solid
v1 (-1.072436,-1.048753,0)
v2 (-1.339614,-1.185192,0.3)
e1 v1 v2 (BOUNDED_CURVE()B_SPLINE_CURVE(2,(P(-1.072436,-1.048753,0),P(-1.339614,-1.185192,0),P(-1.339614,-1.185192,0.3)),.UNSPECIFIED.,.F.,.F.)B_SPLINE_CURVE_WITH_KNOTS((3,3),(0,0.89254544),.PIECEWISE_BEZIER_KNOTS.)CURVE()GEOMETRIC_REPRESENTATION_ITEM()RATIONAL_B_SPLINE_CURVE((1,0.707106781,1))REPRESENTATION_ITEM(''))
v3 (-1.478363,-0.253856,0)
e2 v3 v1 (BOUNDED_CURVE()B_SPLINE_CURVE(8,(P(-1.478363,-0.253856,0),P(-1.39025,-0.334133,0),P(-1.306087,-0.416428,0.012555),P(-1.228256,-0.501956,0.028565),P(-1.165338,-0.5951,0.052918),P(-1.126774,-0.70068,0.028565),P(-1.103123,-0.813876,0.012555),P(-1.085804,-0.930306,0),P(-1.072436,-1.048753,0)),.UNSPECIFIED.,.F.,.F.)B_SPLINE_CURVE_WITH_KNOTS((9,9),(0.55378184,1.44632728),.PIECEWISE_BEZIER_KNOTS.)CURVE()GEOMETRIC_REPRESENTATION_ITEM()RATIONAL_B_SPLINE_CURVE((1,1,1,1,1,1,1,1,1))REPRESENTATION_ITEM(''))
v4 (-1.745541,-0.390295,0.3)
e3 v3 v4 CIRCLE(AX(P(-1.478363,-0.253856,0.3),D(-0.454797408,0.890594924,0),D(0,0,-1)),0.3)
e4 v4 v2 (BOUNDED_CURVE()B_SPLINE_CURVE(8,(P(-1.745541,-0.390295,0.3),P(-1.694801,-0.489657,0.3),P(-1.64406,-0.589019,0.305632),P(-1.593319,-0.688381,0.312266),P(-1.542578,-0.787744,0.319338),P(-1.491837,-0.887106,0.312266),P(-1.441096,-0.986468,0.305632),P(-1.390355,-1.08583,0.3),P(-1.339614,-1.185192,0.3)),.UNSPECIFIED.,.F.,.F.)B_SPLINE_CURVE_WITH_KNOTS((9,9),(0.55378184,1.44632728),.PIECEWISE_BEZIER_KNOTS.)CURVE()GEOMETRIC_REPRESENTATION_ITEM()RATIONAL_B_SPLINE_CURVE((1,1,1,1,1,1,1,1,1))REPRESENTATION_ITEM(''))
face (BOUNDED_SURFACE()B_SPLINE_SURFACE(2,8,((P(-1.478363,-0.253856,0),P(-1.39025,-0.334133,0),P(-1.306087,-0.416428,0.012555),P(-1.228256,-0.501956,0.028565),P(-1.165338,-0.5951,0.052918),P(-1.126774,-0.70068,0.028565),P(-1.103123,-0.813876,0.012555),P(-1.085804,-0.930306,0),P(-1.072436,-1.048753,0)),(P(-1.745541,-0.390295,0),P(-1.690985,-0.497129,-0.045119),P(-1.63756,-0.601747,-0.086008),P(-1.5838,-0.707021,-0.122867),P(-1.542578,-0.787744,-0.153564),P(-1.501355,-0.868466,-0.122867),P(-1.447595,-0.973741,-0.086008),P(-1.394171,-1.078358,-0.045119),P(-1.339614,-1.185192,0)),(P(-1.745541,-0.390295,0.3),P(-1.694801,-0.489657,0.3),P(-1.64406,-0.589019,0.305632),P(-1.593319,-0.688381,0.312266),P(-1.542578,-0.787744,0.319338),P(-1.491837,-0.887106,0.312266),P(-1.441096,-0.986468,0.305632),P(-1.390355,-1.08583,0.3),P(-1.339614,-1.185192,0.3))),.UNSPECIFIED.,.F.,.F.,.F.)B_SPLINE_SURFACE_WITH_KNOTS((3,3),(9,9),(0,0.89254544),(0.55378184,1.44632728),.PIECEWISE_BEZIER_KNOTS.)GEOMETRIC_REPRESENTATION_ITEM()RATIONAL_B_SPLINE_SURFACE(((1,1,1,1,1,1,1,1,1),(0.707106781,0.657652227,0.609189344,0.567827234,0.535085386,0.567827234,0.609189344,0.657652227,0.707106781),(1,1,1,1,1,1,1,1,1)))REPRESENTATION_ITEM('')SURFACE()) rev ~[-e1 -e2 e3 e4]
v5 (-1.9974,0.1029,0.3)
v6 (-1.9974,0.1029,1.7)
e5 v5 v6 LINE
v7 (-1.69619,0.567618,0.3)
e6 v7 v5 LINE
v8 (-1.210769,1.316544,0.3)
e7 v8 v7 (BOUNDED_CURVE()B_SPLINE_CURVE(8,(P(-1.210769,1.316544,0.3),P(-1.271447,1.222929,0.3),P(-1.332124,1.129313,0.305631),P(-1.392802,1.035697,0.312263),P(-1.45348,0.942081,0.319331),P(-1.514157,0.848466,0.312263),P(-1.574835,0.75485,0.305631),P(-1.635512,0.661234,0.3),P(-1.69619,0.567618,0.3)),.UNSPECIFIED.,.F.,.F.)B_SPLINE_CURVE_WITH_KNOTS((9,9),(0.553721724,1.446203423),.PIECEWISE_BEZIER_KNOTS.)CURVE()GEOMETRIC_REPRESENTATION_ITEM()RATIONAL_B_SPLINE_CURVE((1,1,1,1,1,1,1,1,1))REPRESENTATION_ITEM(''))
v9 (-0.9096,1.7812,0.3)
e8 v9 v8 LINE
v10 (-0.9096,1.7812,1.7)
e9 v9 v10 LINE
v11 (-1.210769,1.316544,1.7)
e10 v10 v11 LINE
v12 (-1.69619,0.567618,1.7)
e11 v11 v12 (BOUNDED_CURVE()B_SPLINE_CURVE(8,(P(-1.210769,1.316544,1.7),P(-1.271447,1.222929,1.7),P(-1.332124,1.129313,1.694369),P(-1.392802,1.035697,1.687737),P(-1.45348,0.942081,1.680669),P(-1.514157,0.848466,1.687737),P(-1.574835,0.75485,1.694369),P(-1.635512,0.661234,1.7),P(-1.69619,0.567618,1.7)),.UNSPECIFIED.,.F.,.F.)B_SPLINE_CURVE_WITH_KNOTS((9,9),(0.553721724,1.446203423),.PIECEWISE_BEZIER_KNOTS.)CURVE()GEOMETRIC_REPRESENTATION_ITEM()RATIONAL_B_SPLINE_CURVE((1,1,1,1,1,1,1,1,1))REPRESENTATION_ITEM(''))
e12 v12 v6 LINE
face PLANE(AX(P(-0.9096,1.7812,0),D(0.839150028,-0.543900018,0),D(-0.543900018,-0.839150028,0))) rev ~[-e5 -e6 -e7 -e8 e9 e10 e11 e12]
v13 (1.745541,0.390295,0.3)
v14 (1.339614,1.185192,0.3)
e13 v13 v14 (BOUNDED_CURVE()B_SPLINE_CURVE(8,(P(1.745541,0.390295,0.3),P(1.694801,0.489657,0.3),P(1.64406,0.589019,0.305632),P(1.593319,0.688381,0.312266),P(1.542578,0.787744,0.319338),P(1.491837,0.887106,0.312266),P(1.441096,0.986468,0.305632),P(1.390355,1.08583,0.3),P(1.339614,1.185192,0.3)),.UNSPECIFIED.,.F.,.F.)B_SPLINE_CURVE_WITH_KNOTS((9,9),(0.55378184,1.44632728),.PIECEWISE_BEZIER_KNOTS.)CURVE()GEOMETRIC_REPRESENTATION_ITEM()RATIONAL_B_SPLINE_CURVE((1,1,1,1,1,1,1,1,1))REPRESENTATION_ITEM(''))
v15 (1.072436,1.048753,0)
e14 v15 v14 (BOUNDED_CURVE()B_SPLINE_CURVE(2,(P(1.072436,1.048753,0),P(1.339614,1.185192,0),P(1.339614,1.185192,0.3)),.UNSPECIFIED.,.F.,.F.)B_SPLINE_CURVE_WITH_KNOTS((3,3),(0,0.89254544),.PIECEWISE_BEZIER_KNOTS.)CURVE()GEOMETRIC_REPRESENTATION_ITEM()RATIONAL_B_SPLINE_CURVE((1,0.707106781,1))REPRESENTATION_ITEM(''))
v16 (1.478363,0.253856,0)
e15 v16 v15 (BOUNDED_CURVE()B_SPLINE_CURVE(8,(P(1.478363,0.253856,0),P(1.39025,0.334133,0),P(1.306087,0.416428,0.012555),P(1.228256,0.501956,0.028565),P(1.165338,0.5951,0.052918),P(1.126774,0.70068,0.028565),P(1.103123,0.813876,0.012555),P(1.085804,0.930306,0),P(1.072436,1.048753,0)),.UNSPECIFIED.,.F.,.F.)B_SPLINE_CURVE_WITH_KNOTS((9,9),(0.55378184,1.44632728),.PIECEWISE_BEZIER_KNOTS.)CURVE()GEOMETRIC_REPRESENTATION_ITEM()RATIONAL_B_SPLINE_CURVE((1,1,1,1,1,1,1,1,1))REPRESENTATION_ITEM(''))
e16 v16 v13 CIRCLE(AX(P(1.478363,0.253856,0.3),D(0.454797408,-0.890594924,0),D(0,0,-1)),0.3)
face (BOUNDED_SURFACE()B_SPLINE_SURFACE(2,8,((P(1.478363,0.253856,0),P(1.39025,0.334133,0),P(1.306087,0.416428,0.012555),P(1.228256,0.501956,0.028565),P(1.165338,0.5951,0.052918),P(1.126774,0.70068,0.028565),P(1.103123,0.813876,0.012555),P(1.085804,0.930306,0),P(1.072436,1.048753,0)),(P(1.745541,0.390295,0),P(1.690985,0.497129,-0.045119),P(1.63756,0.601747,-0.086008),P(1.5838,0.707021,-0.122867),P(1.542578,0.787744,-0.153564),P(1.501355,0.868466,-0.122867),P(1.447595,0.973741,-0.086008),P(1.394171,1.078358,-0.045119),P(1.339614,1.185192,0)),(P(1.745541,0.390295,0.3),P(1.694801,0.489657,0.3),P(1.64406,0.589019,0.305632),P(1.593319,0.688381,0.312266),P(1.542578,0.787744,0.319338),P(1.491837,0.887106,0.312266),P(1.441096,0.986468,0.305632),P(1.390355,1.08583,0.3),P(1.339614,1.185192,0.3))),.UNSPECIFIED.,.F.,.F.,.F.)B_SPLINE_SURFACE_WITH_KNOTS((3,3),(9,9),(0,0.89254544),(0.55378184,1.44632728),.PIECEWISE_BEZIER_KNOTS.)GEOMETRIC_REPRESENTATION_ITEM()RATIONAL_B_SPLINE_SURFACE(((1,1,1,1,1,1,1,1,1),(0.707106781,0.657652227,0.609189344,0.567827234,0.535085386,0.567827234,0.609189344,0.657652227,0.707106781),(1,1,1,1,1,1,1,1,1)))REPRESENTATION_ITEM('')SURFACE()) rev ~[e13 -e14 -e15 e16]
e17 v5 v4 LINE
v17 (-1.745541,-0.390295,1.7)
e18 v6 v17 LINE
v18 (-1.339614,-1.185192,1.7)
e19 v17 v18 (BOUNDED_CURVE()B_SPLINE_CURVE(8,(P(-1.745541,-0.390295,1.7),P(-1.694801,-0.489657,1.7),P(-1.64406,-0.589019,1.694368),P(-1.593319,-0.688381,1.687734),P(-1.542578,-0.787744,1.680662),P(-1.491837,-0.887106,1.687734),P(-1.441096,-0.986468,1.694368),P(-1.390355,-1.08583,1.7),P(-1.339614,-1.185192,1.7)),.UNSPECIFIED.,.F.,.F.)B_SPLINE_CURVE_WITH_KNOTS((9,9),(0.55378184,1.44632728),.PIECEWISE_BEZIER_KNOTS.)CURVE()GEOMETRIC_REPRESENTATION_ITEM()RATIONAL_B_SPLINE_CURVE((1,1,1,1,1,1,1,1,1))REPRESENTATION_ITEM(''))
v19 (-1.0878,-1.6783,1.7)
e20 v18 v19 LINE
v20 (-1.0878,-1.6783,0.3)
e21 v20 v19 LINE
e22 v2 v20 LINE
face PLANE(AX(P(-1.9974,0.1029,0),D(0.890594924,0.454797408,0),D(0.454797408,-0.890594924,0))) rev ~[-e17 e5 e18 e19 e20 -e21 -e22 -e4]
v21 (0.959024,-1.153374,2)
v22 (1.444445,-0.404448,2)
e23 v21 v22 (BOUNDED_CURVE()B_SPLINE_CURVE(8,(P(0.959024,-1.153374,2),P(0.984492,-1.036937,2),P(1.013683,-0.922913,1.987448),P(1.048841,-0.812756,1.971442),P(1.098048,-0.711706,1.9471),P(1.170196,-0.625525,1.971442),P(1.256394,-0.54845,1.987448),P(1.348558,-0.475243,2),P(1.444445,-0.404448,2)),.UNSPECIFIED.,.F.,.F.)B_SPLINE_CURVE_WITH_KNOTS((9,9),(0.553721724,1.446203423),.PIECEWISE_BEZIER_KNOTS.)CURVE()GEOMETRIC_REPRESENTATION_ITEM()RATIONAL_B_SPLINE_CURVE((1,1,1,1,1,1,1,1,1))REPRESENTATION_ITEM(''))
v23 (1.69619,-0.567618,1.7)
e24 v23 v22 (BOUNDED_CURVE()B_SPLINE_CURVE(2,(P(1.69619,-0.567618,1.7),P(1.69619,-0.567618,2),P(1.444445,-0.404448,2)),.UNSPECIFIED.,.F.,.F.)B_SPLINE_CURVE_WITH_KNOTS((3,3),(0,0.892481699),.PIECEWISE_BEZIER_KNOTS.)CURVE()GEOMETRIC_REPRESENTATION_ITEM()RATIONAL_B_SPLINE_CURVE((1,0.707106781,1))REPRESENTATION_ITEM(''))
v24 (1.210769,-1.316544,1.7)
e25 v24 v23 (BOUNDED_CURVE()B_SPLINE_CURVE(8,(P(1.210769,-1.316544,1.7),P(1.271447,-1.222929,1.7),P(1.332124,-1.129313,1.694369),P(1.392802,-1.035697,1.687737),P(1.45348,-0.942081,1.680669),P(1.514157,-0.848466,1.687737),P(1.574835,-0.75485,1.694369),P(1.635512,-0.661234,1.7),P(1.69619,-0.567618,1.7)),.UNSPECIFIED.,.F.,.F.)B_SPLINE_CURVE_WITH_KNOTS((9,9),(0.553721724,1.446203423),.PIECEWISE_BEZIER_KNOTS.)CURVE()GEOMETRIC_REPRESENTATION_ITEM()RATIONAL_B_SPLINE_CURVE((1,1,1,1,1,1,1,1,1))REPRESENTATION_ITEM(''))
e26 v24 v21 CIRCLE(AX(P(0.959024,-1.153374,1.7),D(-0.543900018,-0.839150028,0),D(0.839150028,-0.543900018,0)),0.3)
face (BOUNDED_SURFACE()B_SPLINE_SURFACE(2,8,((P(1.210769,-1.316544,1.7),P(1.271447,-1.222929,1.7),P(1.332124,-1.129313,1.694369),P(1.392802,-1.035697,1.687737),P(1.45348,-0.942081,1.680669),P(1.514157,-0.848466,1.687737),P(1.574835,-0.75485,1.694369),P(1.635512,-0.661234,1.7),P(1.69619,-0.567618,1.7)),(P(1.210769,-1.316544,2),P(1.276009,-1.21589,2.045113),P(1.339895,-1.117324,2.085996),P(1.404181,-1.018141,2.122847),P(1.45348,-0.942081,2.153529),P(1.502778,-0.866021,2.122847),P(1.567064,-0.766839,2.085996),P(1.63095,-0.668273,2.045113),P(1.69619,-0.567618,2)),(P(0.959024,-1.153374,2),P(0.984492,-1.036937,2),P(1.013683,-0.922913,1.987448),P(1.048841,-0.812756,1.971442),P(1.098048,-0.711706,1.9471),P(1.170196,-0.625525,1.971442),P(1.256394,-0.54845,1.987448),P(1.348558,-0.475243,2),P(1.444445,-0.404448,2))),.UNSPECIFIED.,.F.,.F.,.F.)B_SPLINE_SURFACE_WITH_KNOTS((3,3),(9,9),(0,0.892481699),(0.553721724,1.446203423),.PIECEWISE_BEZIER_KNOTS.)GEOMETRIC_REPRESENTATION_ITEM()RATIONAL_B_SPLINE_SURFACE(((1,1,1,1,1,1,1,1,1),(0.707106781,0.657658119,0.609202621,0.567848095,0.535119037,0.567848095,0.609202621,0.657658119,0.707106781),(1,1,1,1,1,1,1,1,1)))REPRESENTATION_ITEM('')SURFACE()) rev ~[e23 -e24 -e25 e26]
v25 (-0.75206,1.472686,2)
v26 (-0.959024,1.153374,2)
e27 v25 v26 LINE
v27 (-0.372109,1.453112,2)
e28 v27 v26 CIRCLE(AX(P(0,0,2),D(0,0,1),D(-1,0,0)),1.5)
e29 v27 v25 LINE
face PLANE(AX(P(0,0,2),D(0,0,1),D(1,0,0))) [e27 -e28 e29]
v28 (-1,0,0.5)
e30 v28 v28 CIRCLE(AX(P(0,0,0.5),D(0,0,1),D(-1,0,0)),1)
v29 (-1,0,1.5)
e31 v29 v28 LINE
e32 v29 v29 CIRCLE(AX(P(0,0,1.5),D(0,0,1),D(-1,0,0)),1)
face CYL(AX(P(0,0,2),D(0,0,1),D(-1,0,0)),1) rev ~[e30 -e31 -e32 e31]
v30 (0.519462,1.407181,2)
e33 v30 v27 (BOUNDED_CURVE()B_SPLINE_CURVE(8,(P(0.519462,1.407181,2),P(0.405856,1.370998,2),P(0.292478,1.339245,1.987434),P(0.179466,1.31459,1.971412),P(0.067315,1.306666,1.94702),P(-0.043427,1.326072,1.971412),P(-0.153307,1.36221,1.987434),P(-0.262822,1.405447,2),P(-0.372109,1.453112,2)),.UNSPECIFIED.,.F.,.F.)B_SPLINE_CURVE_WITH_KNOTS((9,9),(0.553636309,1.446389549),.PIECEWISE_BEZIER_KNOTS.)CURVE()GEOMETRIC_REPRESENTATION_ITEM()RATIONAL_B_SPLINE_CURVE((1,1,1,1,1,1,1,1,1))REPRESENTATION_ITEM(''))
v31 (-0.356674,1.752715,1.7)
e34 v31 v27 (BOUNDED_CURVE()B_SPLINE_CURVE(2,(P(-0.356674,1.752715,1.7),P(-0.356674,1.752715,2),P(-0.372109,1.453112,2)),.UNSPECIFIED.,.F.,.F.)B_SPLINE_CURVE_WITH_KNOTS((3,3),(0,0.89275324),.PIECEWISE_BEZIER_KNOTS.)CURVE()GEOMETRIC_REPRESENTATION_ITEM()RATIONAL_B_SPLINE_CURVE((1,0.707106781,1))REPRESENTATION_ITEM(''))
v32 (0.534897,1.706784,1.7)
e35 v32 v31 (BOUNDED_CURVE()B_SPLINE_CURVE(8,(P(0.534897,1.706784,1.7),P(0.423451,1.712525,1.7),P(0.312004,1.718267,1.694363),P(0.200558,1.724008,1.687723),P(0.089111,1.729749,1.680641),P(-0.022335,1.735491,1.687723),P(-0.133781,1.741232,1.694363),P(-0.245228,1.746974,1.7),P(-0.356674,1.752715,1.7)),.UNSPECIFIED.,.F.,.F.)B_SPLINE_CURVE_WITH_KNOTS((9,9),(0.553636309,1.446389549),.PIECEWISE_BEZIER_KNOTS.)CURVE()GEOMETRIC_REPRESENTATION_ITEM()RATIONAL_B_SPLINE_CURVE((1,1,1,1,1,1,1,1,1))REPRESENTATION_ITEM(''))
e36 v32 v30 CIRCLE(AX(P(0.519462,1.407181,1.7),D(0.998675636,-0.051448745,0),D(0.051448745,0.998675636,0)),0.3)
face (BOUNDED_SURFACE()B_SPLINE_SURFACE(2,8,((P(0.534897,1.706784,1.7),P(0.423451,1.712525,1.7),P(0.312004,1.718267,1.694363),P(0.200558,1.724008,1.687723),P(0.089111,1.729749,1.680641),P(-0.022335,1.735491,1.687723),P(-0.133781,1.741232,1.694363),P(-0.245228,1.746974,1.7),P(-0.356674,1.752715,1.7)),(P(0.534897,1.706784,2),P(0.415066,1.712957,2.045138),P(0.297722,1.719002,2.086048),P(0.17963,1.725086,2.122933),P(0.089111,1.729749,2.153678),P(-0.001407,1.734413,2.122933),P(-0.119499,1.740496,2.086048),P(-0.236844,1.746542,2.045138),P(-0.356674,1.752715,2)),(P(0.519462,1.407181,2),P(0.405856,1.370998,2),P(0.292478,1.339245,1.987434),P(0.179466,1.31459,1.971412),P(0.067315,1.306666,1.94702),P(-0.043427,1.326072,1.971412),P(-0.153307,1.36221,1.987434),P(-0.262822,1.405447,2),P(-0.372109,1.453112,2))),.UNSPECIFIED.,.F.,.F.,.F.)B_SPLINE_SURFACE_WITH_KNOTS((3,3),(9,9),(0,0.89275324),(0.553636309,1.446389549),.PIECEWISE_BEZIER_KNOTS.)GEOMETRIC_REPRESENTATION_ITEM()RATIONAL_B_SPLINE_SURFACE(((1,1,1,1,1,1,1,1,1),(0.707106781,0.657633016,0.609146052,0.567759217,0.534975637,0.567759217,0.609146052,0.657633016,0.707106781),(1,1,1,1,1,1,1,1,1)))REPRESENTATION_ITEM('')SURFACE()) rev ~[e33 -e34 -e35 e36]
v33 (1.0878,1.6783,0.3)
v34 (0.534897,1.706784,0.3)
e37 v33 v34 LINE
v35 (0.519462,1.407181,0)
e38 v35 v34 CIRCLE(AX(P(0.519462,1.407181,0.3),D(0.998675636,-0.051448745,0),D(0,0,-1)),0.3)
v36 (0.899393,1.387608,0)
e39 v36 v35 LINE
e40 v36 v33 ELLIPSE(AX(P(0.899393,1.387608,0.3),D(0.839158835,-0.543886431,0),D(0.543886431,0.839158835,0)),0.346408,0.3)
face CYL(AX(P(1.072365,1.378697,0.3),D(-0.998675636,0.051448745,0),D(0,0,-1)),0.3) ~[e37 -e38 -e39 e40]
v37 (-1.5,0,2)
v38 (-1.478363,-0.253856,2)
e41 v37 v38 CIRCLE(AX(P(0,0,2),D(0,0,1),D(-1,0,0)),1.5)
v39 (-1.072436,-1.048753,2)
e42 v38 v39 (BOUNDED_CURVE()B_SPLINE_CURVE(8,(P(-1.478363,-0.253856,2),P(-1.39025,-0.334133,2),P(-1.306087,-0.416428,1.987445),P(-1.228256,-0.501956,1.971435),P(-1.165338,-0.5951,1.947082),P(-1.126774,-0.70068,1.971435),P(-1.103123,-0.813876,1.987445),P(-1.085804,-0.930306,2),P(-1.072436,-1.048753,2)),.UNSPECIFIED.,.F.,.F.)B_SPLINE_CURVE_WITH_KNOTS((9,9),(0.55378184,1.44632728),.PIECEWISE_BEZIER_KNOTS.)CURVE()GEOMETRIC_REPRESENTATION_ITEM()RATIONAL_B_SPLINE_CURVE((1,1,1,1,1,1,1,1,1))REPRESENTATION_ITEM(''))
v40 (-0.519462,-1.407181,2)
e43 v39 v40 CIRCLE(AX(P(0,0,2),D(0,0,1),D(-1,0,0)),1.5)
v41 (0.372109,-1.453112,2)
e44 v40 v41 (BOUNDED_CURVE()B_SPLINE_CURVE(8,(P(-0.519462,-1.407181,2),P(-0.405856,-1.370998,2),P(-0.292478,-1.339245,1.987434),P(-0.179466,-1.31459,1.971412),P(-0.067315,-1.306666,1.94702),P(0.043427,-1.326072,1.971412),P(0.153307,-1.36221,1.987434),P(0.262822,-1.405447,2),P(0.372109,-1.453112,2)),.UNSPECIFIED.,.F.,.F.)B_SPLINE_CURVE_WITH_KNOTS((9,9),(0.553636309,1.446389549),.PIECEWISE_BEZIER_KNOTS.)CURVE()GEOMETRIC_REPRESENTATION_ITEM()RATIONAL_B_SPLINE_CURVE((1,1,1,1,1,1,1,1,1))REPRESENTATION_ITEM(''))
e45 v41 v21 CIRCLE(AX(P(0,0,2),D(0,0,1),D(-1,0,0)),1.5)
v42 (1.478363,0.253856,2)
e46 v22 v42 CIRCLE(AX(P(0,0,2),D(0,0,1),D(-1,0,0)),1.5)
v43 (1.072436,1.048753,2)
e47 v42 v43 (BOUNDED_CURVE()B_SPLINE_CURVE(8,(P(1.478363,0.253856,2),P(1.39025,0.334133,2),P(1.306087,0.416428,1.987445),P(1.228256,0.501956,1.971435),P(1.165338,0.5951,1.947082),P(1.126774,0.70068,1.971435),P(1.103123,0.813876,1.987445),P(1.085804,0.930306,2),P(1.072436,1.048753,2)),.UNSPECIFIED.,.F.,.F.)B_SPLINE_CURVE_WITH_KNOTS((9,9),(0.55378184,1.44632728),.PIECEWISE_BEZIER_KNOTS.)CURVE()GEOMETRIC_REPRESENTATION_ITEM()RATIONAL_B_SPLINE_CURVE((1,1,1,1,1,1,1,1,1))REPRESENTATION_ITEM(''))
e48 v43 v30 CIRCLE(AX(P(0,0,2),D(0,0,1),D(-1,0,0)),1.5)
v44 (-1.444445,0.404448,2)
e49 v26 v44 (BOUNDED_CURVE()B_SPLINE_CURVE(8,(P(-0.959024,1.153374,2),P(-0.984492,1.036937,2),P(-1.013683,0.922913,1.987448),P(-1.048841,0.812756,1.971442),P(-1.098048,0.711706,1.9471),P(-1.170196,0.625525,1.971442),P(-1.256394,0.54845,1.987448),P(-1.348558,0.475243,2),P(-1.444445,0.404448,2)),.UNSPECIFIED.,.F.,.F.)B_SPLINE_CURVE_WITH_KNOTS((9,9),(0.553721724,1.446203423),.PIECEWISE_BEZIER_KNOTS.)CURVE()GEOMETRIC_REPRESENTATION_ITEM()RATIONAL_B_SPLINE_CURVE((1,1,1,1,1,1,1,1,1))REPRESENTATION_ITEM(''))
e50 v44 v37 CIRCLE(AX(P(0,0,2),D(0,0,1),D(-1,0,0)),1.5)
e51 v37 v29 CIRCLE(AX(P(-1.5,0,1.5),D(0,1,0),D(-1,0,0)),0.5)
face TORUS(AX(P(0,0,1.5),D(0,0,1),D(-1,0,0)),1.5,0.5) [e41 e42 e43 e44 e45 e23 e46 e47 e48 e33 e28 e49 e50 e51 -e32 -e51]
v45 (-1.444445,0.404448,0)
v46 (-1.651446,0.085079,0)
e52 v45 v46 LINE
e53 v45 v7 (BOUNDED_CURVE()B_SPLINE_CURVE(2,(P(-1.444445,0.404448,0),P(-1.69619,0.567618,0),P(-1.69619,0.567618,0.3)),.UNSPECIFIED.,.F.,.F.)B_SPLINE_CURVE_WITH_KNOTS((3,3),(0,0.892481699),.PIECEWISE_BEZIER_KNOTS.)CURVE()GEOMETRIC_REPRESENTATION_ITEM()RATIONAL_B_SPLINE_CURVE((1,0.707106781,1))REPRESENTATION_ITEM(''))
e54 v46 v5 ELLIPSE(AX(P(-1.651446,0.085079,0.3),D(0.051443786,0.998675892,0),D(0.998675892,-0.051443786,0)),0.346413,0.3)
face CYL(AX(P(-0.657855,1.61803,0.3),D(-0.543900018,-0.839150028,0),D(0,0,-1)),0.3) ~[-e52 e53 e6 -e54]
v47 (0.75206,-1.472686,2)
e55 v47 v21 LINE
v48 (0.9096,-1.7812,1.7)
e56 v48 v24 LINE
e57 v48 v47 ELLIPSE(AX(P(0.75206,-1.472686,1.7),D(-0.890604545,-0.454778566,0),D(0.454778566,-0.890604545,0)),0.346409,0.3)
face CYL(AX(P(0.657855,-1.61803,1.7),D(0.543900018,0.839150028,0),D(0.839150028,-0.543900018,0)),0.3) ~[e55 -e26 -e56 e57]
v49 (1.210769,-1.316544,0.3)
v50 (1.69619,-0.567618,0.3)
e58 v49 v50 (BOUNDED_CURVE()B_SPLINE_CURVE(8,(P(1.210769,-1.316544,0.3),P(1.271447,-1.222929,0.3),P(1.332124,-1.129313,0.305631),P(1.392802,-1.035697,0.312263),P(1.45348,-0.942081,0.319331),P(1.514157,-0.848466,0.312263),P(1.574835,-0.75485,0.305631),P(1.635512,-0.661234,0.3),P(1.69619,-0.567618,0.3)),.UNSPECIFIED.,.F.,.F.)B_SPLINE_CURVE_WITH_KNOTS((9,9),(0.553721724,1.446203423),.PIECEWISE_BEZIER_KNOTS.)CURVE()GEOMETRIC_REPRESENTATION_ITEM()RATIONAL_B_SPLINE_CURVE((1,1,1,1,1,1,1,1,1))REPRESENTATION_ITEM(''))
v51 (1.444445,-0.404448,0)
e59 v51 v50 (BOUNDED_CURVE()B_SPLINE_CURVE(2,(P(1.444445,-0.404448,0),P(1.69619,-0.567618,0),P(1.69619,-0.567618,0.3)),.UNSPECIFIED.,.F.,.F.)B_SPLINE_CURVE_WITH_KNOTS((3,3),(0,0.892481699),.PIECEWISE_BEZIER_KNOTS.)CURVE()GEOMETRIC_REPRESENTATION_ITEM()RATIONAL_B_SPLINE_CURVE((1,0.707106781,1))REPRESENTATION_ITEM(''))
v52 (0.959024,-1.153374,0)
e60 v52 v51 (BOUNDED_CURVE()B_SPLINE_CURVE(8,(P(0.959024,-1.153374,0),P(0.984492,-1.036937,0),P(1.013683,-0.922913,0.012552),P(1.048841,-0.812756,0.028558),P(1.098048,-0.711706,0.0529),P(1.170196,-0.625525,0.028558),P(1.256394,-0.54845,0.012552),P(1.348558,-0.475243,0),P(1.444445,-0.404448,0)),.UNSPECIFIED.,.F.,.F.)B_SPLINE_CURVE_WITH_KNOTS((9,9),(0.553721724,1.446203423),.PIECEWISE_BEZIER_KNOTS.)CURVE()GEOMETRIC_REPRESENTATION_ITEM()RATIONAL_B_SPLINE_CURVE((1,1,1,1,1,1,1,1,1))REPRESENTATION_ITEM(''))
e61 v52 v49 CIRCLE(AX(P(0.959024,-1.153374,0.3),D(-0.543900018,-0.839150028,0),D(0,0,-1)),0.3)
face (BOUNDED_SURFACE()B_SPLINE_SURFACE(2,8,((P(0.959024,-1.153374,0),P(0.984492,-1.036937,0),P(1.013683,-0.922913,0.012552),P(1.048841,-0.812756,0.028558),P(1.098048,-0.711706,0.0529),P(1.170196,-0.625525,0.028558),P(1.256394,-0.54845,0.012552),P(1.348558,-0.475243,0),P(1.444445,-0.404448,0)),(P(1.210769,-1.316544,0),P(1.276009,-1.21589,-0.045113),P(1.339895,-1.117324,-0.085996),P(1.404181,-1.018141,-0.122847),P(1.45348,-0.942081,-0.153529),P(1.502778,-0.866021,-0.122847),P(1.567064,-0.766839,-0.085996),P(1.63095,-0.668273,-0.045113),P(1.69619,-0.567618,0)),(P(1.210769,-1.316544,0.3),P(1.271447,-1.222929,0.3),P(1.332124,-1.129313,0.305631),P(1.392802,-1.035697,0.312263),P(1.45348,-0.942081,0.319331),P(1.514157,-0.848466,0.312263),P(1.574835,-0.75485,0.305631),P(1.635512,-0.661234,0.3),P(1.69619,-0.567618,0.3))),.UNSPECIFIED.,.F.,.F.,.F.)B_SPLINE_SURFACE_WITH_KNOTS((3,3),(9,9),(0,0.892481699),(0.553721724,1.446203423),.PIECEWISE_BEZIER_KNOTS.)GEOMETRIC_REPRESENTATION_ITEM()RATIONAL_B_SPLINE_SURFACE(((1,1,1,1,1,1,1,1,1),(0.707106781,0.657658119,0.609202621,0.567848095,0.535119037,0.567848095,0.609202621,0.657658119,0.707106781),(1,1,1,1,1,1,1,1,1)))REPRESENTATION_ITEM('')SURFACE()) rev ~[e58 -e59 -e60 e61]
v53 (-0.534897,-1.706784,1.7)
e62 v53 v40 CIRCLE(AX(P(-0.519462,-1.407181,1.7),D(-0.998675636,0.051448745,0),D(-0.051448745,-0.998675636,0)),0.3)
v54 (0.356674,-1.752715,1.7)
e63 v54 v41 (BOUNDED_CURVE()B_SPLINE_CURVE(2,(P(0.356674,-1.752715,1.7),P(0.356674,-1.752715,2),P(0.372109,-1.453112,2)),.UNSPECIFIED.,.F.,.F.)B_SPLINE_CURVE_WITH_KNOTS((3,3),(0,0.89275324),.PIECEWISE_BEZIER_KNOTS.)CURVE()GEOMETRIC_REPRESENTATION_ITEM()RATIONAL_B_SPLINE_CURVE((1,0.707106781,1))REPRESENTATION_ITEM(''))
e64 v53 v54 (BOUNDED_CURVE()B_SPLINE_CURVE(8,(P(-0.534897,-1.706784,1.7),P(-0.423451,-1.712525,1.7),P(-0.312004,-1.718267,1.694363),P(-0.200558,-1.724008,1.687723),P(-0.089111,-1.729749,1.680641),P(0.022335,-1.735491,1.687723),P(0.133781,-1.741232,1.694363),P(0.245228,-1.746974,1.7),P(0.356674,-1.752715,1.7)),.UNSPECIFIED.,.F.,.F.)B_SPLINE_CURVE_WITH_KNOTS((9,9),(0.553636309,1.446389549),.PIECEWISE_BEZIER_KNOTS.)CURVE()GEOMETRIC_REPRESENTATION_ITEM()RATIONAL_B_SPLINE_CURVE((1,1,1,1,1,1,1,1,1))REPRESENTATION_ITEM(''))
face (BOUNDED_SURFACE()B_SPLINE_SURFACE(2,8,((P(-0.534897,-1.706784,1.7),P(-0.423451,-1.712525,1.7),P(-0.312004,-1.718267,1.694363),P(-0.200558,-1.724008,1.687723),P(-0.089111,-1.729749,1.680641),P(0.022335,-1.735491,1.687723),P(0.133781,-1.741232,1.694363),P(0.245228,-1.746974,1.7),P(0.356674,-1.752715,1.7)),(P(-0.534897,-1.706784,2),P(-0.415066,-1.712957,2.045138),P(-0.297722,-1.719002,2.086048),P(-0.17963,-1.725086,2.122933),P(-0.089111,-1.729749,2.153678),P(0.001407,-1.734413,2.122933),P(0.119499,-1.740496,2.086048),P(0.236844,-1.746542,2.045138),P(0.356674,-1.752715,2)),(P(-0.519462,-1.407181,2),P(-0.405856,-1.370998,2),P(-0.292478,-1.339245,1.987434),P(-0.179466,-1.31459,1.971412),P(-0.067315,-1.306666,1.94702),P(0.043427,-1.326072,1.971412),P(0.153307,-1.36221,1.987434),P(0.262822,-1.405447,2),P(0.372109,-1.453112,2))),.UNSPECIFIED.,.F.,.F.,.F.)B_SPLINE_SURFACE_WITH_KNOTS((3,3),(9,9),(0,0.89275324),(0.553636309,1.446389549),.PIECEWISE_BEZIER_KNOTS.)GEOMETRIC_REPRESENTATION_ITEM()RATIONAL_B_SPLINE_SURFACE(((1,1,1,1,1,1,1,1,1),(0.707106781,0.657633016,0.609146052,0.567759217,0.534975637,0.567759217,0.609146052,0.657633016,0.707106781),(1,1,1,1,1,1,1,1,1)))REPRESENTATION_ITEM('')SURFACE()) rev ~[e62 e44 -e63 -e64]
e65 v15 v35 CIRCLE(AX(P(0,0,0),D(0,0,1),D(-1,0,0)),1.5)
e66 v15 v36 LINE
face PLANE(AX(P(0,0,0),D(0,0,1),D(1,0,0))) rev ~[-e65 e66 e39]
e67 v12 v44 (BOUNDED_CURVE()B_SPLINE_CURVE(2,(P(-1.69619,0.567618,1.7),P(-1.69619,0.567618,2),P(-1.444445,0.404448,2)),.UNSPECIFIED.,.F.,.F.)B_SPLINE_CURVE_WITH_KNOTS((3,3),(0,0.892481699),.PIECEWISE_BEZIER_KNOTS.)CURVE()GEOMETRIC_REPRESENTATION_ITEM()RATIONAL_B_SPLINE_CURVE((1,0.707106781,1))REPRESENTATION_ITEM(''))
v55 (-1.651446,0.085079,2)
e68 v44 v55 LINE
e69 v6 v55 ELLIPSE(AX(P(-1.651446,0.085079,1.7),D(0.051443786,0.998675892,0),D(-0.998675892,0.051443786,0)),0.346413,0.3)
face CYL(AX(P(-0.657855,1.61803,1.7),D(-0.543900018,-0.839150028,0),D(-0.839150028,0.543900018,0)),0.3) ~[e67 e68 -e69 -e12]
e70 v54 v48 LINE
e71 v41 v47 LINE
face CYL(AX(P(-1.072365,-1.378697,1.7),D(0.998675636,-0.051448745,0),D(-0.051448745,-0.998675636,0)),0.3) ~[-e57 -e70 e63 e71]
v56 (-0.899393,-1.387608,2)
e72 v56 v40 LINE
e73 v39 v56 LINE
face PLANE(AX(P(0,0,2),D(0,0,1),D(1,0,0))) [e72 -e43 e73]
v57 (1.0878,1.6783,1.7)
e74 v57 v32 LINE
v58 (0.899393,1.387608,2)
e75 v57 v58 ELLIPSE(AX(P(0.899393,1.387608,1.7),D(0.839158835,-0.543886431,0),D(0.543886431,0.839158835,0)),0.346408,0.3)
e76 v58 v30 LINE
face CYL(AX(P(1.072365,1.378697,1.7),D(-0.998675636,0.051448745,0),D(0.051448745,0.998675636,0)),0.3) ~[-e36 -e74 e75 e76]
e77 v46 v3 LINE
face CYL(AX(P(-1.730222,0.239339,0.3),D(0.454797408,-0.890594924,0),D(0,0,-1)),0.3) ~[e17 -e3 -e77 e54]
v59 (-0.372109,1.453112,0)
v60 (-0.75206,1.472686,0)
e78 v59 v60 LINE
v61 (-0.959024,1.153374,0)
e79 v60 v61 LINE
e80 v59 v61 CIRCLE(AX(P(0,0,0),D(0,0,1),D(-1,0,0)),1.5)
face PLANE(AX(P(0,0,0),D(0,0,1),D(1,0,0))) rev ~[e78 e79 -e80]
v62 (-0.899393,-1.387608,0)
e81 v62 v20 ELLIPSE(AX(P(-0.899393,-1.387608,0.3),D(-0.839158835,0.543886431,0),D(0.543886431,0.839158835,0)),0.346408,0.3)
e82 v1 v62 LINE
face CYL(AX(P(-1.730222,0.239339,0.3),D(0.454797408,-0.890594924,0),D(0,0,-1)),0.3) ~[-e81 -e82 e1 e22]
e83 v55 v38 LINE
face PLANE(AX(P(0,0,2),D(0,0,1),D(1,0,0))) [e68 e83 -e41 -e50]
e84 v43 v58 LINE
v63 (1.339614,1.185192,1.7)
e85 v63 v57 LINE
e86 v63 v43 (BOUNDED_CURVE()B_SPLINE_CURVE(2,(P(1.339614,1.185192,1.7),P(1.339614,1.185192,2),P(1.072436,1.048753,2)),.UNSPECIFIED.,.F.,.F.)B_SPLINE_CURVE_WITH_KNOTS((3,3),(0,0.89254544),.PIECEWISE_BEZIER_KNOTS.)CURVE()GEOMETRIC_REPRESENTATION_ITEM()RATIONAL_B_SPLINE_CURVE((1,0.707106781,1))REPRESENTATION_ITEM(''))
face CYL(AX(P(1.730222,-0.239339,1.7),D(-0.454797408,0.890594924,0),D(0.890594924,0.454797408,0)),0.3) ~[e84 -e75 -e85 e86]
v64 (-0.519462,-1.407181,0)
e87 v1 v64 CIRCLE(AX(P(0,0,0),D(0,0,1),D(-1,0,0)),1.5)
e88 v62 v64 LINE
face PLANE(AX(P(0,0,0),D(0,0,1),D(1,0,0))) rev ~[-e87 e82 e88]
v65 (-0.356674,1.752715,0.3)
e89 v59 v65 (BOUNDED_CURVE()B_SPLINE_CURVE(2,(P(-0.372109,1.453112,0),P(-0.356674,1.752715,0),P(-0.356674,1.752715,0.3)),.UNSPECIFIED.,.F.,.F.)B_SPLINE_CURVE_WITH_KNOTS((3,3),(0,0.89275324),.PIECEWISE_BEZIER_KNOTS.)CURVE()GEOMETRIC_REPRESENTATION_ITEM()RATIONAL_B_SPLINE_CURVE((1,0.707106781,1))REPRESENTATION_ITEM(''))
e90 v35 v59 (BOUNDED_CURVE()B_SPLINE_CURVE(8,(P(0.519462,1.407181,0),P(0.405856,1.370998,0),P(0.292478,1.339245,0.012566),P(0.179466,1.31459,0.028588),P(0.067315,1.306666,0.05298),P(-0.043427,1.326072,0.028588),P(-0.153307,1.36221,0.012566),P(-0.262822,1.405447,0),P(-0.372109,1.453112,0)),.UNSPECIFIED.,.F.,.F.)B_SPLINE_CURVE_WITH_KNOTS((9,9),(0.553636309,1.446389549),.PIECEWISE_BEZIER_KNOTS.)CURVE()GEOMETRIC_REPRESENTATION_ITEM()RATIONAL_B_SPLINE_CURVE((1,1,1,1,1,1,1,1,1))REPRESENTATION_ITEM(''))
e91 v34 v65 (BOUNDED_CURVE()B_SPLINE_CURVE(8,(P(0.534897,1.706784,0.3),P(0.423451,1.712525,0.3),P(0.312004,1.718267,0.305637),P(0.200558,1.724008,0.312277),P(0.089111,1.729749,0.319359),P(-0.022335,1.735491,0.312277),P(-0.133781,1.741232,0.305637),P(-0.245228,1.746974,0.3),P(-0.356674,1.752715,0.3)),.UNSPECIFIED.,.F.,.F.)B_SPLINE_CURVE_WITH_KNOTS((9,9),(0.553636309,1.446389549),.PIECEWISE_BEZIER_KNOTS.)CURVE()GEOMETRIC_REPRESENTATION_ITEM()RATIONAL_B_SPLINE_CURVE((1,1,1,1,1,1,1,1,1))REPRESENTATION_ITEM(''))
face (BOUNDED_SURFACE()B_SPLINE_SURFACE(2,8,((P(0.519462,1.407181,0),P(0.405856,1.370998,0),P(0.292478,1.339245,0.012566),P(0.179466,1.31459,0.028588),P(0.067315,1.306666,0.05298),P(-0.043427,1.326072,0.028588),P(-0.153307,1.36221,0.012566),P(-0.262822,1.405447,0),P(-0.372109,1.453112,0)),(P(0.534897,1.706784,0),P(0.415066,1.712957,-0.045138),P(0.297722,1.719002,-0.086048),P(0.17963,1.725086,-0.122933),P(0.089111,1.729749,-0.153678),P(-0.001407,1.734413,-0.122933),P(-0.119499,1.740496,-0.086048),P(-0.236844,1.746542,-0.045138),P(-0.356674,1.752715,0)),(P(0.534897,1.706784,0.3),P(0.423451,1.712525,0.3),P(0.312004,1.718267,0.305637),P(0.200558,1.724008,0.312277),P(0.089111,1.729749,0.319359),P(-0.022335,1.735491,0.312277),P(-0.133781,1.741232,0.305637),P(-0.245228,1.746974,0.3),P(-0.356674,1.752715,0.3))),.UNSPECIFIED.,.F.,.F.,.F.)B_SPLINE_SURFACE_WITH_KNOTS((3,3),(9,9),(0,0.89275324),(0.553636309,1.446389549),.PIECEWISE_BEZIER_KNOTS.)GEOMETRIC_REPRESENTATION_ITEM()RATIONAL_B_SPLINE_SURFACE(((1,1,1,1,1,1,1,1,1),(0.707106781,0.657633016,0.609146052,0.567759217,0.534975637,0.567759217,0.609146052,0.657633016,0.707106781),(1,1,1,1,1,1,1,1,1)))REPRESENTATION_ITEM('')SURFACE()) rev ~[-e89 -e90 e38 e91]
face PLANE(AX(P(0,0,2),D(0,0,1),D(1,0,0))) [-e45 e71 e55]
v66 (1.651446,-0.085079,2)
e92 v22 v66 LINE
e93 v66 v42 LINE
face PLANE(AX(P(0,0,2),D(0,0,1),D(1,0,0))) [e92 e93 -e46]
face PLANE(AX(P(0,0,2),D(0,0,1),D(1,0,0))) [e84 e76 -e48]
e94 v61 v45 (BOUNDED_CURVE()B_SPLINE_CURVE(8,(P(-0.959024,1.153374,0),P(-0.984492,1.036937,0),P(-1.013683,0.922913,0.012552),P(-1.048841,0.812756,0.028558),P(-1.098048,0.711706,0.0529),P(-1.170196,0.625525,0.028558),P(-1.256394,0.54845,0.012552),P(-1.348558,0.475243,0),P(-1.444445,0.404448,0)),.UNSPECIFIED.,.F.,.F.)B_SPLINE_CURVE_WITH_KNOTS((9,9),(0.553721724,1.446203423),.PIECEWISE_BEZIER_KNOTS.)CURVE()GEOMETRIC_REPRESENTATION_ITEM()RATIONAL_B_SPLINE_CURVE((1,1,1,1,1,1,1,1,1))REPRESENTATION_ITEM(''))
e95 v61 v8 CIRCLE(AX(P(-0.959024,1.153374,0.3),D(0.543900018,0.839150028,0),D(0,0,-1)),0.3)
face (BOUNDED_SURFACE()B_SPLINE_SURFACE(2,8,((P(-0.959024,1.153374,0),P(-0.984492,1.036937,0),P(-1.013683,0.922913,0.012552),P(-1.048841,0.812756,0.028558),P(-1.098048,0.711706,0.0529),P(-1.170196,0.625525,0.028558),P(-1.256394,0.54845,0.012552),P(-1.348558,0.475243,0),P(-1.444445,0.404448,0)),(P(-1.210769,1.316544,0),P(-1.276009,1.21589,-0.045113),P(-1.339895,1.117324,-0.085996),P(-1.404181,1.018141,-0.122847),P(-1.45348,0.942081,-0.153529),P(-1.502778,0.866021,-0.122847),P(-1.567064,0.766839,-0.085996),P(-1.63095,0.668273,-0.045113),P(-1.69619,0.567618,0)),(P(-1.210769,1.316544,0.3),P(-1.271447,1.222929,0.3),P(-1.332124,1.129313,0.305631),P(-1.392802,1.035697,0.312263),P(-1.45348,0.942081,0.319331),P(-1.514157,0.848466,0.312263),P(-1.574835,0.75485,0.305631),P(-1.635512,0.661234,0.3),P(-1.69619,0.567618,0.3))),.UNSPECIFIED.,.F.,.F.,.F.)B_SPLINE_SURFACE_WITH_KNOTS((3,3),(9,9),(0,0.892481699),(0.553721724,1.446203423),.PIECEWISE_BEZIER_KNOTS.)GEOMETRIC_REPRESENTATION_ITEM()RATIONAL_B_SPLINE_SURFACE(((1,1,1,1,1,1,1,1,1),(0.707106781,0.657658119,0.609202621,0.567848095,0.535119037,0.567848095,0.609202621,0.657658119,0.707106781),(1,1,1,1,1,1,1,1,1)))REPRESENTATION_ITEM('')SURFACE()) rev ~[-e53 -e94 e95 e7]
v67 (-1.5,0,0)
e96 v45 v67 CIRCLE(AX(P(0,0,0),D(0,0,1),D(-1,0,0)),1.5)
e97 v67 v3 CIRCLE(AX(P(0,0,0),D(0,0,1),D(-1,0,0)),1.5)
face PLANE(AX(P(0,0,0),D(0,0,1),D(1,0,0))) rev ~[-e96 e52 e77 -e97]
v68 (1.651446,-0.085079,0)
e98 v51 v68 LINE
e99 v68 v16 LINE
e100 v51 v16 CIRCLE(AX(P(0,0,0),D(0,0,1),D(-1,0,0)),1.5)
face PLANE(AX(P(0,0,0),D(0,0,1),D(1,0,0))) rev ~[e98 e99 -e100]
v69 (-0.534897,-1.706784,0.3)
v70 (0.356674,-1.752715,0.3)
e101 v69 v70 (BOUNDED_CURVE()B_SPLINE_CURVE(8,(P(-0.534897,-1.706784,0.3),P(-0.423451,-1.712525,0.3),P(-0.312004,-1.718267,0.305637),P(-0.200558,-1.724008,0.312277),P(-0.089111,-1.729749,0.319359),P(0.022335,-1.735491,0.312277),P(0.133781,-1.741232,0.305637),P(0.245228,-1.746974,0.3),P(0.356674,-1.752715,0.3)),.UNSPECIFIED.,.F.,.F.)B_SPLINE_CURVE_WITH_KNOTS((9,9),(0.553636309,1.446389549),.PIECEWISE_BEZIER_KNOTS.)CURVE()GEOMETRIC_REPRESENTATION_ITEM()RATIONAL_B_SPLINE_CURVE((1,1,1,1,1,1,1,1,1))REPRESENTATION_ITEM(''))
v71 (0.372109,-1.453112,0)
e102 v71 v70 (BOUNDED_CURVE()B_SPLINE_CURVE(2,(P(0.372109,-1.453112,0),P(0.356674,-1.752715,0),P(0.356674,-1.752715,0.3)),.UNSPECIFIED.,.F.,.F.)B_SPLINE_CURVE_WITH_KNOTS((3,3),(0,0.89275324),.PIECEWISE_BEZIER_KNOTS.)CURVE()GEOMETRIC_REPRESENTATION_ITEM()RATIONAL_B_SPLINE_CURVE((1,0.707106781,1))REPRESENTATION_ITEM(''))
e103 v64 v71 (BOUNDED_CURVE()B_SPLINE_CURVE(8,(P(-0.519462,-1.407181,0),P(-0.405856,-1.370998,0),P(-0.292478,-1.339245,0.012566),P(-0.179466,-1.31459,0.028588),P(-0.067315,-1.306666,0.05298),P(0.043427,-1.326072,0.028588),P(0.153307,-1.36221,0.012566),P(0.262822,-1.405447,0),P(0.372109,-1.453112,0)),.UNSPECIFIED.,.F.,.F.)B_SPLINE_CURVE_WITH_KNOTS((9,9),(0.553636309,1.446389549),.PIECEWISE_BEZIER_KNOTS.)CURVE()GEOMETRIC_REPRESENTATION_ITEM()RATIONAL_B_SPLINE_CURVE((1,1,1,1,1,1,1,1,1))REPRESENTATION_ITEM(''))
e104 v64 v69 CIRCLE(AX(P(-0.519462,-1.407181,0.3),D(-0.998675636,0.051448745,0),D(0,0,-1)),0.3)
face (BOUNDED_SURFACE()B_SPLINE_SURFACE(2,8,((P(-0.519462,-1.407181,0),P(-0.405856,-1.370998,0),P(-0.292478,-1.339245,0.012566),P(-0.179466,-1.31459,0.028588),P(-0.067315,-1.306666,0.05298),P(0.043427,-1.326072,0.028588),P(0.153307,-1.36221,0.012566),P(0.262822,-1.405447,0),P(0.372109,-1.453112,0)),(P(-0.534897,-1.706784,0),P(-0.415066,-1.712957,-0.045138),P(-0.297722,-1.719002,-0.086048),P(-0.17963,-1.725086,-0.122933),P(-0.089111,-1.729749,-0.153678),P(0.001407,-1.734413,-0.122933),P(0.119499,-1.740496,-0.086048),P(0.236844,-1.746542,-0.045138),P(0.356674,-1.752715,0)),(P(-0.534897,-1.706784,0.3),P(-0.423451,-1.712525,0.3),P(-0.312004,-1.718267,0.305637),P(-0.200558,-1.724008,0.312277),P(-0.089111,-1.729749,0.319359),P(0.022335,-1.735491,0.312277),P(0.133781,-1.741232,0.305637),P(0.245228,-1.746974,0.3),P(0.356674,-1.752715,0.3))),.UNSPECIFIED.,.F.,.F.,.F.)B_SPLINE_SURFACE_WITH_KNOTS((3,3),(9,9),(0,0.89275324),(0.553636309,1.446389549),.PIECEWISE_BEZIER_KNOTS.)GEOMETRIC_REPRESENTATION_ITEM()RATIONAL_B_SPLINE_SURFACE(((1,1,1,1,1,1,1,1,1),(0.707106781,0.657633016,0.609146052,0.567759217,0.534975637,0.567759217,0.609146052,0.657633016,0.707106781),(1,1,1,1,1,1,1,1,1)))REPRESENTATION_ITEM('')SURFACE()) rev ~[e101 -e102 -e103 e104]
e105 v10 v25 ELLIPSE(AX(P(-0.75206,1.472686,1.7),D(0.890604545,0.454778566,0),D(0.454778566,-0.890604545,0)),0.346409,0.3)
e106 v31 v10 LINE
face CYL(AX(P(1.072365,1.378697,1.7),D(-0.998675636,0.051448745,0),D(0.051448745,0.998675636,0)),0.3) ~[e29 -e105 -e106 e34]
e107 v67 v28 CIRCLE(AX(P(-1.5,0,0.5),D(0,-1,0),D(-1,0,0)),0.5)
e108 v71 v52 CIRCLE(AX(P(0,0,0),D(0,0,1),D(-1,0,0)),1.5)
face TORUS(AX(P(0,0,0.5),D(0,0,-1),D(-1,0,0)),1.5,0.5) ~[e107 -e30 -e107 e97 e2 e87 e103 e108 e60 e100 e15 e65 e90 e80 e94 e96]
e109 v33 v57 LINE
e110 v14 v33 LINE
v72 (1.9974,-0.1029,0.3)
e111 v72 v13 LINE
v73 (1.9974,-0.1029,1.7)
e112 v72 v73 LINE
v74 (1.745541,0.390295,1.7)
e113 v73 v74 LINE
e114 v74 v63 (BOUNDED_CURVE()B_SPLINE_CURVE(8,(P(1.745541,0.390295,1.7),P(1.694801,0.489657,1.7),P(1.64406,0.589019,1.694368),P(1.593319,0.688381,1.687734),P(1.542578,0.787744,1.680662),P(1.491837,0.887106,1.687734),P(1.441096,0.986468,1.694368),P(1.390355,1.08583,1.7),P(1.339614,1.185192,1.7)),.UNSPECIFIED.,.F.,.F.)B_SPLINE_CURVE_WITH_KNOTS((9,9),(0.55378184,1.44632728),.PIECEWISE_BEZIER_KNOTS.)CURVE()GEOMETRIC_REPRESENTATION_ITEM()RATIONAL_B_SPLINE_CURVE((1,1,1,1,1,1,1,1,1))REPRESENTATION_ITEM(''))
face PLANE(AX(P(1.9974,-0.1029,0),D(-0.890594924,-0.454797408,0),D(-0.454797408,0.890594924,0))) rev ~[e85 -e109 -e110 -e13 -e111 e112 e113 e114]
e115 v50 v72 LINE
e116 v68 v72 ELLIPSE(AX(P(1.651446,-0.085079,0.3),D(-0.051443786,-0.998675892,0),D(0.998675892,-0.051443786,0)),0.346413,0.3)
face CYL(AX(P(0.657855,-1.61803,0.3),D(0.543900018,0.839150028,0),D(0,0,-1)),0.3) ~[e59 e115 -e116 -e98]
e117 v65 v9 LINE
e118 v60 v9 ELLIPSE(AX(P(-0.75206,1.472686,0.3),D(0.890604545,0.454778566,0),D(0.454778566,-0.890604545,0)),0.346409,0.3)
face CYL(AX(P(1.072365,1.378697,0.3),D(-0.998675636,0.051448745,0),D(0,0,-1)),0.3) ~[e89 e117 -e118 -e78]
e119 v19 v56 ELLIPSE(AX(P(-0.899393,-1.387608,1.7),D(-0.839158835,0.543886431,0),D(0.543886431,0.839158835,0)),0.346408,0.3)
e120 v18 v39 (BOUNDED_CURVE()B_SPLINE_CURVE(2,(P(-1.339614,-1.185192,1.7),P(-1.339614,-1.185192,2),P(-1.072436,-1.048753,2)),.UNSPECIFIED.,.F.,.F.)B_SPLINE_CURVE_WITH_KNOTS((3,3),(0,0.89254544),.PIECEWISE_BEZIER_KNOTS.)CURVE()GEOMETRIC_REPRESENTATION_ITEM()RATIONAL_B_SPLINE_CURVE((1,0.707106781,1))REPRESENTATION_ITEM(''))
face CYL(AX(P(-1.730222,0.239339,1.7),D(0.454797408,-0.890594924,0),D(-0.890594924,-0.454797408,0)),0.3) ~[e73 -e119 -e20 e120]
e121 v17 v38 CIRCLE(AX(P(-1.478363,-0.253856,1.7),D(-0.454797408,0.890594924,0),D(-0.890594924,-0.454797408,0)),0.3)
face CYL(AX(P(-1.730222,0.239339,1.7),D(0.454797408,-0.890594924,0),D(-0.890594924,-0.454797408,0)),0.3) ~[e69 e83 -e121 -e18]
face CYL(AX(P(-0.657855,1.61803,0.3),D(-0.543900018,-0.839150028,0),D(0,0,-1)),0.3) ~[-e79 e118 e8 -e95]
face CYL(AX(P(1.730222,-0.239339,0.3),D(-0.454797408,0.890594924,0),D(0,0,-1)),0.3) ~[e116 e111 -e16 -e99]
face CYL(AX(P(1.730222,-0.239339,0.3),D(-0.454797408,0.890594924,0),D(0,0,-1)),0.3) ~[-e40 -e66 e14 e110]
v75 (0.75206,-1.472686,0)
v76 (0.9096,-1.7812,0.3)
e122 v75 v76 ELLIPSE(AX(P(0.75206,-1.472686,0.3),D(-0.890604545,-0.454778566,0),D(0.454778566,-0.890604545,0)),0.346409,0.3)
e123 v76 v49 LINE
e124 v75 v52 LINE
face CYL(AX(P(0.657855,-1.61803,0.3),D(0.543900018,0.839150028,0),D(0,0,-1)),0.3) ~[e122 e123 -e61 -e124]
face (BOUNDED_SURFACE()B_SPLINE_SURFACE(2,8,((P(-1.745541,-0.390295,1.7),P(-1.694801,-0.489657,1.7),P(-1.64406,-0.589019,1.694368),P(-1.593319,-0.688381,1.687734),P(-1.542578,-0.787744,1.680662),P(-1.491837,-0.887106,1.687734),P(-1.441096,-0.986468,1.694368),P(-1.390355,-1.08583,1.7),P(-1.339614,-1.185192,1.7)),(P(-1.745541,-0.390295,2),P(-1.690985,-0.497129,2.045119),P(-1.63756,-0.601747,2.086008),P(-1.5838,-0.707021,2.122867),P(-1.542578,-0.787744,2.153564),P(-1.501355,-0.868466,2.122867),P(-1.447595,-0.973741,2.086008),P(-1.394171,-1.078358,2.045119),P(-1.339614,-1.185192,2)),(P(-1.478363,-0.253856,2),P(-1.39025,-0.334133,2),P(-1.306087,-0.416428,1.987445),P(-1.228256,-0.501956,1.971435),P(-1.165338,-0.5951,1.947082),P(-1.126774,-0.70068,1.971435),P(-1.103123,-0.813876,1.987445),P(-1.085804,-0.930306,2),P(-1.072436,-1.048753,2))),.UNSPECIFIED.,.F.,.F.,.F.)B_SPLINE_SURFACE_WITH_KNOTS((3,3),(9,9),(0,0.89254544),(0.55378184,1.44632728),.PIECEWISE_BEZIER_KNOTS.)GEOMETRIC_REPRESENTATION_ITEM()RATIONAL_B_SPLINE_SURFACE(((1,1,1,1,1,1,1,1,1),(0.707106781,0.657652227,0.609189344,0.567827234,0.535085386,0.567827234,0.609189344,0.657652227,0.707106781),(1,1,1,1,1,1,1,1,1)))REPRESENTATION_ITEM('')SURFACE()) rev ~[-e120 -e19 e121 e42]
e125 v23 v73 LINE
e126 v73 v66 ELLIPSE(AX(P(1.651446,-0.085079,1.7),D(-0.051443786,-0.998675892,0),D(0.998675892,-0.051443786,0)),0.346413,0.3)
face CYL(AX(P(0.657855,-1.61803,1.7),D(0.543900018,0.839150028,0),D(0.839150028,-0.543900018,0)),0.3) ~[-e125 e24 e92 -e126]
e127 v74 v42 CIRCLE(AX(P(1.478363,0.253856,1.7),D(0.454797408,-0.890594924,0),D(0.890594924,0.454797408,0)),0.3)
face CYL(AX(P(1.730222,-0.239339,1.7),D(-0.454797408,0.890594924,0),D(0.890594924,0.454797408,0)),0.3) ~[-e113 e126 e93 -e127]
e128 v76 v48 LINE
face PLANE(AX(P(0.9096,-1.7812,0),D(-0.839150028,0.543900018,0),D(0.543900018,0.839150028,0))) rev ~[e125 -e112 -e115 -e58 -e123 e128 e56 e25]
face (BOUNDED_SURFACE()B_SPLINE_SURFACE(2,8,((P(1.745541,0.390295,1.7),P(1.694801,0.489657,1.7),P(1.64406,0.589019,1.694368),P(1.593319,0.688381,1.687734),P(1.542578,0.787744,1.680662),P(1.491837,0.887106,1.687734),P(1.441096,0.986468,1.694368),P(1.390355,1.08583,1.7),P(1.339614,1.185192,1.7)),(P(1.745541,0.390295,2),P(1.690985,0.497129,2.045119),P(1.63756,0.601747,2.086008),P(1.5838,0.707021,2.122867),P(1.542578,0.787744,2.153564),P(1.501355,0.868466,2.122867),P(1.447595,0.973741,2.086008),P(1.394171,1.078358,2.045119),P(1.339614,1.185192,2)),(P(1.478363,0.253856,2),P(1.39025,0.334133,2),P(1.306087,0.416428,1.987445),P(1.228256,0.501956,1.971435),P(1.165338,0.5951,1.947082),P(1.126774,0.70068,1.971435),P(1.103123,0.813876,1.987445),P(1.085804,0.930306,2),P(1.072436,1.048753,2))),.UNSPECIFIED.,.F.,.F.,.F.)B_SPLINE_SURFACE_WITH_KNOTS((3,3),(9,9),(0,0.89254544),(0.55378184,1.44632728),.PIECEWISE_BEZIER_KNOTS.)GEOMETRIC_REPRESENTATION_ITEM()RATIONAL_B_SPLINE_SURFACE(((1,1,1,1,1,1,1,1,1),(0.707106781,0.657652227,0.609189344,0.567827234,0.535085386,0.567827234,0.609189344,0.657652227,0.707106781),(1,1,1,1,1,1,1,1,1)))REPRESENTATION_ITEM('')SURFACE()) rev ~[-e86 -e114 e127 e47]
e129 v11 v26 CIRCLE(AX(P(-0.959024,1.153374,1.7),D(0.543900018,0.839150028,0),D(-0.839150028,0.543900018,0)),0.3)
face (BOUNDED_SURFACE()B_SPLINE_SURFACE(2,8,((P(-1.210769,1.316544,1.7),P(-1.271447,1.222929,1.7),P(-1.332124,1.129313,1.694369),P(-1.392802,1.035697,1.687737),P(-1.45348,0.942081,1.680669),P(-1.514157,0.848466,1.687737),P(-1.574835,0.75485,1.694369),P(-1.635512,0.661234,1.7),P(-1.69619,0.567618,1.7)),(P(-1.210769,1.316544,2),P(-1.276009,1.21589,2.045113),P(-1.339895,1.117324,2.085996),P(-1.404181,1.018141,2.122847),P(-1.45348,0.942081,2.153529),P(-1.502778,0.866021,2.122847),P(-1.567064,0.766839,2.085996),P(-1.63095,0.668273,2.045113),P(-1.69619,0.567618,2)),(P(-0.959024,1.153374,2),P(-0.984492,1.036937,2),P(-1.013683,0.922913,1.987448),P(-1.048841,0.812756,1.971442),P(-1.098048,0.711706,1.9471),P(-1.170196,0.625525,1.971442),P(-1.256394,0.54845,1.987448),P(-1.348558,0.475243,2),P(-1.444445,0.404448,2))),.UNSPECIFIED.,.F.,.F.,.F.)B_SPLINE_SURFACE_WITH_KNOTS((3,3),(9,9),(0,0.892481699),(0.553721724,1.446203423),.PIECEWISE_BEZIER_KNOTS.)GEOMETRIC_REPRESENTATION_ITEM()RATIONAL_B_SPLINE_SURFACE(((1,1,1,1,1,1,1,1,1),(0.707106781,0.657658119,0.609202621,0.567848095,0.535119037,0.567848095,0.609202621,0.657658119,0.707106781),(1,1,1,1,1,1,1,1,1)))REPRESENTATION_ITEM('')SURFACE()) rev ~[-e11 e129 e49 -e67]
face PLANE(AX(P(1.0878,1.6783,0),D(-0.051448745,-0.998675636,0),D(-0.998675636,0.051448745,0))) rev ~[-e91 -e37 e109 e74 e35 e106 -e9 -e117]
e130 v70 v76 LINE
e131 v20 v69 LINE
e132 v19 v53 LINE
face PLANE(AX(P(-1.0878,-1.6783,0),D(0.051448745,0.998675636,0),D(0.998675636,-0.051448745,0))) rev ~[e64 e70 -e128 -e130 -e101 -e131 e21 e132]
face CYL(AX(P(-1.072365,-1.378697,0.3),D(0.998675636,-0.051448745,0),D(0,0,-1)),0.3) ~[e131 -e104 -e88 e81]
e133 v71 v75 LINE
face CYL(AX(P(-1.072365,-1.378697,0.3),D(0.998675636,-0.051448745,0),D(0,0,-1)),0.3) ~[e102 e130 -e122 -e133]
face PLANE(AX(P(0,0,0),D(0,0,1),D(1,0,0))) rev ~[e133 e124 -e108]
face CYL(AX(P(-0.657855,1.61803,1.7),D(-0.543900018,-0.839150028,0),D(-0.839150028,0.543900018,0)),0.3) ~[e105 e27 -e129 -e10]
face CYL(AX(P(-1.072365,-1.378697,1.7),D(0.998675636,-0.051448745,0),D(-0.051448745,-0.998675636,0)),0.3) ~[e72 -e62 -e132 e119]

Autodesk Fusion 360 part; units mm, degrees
sketch "Sketch8" plane through (0, 0, 0) normal (0, 0, 1) x (1, 0, 0)
  line L0 (0.9096, -1.7812) -> (1.9974, -0.1029)
  line L1 (1.9974, -0.1029) -> (1.0878, 1.6783)
  line L2 (1.0878, 1.6783) -> (-0.9096, 1.7812)
  line L3 (-0.9096, 1.7812) -> (-1.9974, 0.1029)
  line L4 (-1.9974, 0.1029) -> (-1.0878, -1.6783)
  line L5 (-1.0878, -1.6783) -> (0.9096, -1.7812)
  dimension "d12" = 2
extrude "Extrude4" add sketch "Sketch8" along normal blind 2
sketch "Sketch9" plane through (0, 0, 2) normal (0, 0, 1) x (-1, 0, 0)
  line L0 (1.0878, 1.6783) -> (-0.9096, 1.7812)
  line L1 (-0.9096, 1.7812) -> (-1.9974, 0.1029)
  line L2 (-1.9974, 0.1029) -> (-1.0878, -1.6783)
  line L3 (-1.0878, -1.6783) -> (0.9096, -1.7812)
  line L4 (0.9096, -1.7812) -> (1.9974, -0.1029)
  line L5 (1.9974, -0.1029) -> (1.0878, 1.6783)
  circle A0 centre (0, 0) radius 1
  dimension "d15" = 2
extrude "Extrude5" cut sketch "Sketch9" against normal blind 3 contours A0
fillet "Fillet1" radius 0.5 2 edges at (0.9323, 0.3616, 0) (0.9323, -0.3616, 2)
fillet "Fillet2" radius 0.3 12 edges at (-0.0891, -1.7298, 0) (1.4535, -0.9421, 0) (1.5426, 0.7877, 0) (-0.0891, -1.7298, 2) (1.4535, -0.9421, 2) (1.5426, 0.7877, 2) (-1.4535, 0.9421, 2) (-1.5426, -0.7877, 2) (0.0891, 1.7298, 2) (-1.5426, -0.7877, 0) (-1.4535, 0.9421, 0) (0.0891, 1.7298, 0)
thread "Thread1" thread offset 0 thread length 10
